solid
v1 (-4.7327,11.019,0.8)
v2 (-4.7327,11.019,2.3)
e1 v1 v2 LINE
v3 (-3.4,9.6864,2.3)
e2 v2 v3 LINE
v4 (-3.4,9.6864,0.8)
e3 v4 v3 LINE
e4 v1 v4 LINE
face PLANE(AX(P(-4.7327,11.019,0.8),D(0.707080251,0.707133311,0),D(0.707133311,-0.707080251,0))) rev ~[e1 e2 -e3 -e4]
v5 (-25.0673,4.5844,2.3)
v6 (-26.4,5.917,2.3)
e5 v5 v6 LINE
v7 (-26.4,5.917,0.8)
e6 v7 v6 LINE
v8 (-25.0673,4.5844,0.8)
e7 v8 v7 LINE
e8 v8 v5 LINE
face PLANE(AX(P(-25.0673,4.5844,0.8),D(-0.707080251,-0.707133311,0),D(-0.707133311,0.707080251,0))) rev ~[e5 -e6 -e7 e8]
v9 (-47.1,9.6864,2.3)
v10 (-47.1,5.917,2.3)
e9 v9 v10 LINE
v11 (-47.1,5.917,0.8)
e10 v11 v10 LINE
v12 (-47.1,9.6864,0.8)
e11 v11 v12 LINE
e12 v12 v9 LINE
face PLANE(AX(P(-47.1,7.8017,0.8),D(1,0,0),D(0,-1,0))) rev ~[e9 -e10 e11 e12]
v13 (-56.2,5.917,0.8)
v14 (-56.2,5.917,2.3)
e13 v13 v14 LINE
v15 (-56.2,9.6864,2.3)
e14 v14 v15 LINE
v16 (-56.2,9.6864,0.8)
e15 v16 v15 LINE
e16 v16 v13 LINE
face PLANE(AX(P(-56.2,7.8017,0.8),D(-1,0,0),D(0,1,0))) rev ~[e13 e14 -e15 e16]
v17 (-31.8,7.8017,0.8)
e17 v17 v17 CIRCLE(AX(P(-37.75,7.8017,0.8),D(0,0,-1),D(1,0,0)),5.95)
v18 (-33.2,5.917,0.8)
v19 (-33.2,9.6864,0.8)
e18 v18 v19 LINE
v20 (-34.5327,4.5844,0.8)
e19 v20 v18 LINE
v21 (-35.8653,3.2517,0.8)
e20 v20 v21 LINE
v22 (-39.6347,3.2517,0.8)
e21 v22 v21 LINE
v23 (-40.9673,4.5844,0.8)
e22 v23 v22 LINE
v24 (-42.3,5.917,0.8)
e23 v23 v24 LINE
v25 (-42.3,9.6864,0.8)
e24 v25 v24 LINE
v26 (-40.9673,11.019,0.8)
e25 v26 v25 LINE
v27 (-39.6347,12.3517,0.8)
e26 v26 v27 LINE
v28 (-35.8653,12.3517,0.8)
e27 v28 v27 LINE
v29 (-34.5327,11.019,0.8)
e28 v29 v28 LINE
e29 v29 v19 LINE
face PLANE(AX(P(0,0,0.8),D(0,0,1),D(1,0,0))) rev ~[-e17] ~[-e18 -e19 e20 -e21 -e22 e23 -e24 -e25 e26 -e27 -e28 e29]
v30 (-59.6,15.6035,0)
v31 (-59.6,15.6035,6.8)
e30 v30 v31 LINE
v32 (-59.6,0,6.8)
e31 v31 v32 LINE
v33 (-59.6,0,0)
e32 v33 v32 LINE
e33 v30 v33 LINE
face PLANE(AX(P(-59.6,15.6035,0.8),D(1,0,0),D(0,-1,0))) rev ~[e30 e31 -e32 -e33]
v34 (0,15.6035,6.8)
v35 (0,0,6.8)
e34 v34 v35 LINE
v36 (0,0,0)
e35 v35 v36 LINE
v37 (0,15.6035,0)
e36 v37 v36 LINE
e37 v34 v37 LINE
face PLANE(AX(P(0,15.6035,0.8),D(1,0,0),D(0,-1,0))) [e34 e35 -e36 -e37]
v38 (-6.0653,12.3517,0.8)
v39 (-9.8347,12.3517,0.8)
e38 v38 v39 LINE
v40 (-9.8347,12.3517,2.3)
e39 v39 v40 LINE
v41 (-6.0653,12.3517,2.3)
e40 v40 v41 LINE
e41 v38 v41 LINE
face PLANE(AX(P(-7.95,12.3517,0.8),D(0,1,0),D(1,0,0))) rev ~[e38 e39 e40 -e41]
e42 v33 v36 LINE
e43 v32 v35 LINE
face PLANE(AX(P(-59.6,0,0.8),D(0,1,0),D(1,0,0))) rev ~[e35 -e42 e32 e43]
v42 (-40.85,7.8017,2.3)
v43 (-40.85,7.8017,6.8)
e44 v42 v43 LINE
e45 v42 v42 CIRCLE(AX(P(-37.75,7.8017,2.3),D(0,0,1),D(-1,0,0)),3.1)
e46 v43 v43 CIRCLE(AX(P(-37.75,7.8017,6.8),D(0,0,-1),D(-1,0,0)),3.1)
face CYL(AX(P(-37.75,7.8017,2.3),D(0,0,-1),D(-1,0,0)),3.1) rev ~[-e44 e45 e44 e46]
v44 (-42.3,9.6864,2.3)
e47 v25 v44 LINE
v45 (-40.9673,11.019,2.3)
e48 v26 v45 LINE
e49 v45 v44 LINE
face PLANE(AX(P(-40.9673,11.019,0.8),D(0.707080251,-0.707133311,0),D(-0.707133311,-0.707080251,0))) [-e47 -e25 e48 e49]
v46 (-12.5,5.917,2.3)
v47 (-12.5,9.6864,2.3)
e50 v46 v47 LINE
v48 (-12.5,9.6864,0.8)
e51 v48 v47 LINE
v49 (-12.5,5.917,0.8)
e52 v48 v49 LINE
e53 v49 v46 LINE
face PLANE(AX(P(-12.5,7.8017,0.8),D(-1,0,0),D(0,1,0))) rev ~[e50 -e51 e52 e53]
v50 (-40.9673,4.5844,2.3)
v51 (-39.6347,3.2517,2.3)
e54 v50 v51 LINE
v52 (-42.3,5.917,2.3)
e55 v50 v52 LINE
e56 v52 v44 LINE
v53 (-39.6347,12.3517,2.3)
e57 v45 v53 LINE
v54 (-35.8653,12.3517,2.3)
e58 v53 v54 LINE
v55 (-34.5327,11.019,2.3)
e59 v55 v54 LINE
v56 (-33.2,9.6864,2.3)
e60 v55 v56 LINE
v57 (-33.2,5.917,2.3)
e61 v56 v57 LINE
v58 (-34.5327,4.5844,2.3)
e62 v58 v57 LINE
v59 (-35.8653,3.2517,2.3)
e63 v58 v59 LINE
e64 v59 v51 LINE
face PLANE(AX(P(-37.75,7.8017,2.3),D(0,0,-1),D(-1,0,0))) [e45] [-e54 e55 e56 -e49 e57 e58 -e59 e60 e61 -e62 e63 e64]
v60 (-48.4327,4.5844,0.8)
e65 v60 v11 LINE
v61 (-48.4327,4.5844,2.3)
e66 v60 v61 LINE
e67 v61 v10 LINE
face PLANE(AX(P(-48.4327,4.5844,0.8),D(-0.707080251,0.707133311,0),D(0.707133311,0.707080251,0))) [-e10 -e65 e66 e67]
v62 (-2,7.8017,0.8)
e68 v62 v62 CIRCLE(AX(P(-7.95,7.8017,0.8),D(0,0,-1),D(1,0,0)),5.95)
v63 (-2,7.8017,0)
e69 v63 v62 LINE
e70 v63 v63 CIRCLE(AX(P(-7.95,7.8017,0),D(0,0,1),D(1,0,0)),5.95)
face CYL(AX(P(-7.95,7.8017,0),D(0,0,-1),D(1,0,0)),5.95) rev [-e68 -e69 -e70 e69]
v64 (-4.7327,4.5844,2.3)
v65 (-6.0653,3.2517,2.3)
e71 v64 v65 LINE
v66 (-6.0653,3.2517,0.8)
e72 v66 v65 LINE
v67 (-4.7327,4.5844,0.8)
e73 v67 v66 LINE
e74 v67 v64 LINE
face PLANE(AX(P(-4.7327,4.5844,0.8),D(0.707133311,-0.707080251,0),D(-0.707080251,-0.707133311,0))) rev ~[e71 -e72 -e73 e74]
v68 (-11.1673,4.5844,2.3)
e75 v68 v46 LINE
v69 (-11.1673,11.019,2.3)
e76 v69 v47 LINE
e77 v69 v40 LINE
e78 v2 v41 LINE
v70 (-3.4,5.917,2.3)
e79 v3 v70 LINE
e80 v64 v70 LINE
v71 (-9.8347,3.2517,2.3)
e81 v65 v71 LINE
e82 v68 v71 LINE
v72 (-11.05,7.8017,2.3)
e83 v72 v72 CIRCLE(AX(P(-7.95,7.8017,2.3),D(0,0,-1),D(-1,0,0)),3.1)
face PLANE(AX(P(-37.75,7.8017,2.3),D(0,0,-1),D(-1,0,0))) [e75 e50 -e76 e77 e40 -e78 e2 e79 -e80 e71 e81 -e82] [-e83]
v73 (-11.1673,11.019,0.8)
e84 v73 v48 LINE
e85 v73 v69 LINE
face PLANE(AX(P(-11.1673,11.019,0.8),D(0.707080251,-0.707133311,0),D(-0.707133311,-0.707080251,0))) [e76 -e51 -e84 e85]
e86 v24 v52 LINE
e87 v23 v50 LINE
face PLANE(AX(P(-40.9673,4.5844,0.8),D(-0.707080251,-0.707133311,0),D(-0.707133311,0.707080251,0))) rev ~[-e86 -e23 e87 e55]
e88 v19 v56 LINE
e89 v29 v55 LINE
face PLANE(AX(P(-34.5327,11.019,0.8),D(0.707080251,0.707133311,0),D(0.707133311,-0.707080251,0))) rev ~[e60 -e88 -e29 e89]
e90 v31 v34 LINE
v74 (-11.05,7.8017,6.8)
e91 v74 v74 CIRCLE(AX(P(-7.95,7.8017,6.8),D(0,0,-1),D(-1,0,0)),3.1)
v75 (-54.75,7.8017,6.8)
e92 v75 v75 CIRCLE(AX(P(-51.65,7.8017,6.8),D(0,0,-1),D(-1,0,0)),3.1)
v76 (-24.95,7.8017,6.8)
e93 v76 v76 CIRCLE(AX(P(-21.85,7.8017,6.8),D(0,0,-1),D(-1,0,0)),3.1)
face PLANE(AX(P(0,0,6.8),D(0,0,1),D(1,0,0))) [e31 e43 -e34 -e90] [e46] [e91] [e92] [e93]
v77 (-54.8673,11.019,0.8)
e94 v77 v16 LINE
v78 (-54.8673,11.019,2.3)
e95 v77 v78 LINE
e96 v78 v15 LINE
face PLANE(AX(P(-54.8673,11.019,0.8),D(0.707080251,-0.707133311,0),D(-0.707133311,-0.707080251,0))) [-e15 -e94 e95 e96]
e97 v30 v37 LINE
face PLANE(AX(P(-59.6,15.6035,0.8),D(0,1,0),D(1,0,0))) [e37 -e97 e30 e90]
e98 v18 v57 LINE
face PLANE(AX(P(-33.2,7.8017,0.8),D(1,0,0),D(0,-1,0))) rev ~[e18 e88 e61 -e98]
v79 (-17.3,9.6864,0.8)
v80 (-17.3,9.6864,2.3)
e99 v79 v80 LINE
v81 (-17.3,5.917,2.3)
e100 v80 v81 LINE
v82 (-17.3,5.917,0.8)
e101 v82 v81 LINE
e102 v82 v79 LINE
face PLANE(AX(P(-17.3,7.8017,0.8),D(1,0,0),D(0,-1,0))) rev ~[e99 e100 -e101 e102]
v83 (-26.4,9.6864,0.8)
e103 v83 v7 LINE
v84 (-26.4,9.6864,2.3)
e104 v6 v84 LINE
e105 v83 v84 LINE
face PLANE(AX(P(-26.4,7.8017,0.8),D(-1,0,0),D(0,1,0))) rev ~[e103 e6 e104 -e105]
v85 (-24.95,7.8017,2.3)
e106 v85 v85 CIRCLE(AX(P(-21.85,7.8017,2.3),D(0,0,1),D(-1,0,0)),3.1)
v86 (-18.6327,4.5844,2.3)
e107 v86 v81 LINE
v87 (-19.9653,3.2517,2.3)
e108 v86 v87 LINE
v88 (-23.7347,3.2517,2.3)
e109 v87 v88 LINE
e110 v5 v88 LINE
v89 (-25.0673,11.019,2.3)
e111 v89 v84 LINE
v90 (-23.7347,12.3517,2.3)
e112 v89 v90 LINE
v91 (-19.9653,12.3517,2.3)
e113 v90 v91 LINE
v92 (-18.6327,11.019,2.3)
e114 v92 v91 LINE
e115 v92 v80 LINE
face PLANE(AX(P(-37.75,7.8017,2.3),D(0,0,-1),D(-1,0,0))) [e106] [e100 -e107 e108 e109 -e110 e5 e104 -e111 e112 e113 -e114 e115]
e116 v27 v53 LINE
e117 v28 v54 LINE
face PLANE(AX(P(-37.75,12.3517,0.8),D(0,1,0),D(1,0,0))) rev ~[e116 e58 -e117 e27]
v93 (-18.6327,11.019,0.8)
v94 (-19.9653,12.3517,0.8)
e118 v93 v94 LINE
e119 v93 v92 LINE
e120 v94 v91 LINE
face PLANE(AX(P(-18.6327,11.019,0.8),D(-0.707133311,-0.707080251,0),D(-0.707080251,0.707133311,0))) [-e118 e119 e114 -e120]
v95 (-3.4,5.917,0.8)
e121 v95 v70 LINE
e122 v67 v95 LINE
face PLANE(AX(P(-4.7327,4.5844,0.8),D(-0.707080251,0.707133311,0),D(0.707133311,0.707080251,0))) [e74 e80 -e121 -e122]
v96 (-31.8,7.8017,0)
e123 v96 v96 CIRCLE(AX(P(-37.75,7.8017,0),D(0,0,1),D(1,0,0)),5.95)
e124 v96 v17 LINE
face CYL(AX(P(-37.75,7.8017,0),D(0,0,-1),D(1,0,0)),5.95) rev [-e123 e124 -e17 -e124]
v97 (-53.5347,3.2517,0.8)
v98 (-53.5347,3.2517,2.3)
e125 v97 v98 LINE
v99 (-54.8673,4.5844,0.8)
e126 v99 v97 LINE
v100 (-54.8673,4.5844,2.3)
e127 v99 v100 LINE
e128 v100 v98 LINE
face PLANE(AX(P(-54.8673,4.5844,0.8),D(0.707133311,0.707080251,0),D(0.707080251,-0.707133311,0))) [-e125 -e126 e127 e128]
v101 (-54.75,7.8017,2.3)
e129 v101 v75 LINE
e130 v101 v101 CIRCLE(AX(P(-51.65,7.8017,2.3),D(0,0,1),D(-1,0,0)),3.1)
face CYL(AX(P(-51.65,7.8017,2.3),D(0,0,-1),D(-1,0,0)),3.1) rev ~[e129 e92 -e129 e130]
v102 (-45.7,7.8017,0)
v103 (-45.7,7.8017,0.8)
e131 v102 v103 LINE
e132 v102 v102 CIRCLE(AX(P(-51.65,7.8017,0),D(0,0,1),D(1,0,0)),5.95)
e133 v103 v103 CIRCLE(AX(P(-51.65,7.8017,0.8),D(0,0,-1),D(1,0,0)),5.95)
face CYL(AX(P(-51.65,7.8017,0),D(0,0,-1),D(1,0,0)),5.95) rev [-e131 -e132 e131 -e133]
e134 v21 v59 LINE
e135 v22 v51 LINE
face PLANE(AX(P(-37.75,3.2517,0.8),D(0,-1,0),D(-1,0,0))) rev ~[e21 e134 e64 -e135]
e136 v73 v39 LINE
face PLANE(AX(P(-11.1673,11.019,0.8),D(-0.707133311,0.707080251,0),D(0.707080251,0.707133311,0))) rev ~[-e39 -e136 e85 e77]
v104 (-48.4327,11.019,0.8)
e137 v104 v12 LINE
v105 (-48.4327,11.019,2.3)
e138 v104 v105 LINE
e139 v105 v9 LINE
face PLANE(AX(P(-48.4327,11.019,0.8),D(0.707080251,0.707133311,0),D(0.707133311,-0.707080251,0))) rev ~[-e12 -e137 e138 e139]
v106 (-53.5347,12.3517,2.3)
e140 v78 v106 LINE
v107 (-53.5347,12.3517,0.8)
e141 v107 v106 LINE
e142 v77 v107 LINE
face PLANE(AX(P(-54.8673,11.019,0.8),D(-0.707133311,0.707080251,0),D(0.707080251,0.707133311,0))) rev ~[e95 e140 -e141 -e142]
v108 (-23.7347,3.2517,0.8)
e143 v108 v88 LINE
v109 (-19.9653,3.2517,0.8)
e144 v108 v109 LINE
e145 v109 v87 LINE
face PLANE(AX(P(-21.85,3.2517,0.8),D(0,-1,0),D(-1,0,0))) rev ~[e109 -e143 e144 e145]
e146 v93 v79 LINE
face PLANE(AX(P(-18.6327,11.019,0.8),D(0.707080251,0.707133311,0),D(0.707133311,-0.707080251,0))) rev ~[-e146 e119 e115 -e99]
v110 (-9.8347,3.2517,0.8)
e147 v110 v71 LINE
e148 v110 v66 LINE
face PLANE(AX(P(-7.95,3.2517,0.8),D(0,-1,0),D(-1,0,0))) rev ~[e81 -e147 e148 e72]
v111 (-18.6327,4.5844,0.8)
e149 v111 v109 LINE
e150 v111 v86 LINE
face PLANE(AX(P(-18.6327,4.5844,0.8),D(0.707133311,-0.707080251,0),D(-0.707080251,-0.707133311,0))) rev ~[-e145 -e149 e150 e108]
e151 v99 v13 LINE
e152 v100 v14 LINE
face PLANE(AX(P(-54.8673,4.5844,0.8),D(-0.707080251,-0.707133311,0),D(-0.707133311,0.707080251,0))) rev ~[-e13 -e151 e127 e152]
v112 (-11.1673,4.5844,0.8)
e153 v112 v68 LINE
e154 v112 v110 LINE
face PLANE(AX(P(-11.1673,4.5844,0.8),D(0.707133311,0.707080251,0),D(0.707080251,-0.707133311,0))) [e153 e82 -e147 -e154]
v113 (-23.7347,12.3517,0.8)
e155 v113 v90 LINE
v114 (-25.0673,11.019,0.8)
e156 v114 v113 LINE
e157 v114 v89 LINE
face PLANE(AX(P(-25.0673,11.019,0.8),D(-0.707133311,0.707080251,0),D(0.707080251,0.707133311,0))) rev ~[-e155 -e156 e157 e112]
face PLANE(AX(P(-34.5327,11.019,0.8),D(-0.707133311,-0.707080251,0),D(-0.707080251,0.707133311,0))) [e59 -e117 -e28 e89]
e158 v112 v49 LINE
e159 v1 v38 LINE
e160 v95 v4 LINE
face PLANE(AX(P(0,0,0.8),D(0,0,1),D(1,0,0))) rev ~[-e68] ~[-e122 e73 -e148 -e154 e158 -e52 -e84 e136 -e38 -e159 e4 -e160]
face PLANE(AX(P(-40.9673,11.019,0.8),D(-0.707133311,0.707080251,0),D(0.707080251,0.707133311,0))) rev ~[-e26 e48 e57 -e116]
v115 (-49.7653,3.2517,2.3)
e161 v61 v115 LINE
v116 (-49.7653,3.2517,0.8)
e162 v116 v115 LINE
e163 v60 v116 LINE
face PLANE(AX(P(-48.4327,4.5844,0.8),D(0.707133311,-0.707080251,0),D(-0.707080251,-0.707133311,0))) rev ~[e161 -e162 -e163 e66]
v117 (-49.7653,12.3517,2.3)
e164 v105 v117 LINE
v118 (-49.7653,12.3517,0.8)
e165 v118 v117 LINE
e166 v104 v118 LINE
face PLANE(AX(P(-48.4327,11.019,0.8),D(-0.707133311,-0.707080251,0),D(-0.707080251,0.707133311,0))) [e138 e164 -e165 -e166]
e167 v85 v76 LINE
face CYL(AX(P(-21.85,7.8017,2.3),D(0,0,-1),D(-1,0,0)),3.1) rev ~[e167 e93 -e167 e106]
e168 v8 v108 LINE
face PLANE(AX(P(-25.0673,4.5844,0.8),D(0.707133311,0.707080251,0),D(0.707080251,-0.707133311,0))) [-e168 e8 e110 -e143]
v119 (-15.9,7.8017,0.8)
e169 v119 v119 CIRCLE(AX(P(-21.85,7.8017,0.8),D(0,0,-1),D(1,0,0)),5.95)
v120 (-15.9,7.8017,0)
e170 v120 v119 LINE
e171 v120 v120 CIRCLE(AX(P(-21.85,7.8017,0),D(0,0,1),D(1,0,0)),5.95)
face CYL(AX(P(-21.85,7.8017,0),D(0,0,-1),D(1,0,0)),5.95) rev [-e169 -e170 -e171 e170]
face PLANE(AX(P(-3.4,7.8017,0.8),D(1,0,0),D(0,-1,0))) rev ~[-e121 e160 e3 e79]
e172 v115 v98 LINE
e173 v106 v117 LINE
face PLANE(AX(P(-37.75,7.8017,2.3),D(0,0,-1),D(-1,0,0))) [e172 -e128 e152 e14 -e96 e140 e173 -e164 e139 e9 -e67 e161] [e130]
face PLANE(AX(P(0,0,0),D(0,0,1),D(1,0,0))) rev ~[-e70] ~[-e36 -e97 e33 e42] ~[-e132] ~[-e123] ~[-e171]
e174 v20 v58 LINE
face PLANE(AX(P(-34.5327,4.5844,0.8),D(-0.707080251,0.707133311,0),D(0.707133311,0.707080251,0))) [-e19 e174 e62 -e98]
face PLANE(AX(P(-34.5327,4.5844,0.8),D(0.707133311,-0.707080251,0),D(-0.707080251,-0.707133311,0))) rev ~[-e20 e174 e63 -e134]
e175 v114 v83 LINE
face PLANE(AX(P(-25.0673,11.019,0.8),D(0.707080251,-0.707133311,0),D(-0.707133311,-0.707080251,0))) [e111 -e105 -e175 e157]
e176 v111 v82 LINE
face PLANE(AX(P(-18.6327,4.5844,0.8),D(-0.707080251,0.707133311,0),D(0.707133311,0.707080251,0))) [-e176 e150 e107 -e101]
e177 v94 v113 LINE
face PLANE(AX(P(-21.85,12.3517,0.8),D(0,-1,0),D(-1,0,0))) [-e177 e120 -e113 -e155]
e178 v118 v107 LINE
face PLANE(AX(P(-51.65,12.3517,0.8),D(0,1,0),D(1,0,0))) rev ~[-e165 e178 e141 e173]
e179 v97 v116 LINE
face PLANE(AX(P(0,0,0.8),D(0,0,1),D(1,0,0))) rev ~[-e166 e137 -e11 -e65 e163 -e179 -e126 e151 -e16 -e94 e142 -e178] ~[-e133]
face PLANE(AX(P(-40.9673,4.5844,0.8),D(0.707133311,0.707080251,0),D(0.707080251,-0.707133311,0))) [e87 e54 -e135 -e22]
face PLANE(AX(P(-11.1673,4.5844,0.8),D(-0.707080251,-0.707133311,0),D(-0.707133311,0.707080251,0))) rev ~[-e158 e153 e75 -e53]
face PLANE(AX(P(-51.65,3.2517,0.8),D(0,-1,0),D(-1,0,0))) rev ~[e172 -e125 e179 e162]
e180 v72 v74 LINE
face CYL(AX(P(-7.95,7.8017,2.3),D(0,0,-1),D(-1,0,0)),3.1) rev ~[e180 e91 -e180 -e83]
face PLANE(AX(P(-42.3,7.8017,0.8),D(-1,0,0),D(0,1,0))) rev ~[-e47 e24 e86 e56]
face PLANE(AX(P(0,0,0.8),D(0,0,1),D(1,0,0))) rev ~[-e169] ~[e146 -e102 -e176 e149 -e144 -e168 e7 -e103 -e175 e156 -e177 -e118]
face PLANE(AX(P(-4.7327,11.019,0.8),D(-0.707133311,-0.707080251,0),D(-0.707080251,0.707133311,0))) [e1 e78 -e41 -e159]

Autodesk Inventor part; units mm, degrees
ref_plane "YZ Plane" through (0, 0, 0) normal (1, 0, 0) x (0, 1, 0)
ref_plane "XZ Plane" through (0, 0, 0) normal (0, 1, 0) x (-1, 0, 0)
ref_plane "XY Plane" through (0, 0, 0) normal (0, 0, 1) x (1, 0, 0)
sketch "Sketch1" plane through (0, 0, 0) normal (0, 0, 1) x (1, 0, 0)
  line L0 (0, 0) -> (-29.8, 0)
  line L1 (0, 15.6035) -> (0, 0)
  circle A0 centre (-7.95, 7.8017) radius 5.95
  circle A1 centre (-21.85, 7.8017) radius 5.95
  line L2 (-29.8, 15.6035) -> (-29.8, 0)
  line L3 (-29.8, 15.6035) -> (0, 15.6035)
  line L4 (-29.8, 0) -> (-60, 0)
  line L5 (-21.85, 7.8017) -> (-21.85, 15.6035)
  line L6 (-21.85, 7.8017) -> (-21.85, 0)
  line L7 (-7.95, 7.8017) -> (-7.95, 0)
  line L8 (-7.95, 7.8017) -> (-7.95, 15.6035)
  line L9 (-59.6, 0) -> (-29.8, 0)
  line L10 (-59.6, 15.6035) -> (-59.6, 0)
  circle A2 centre (-51.65, 7.8017) radius 5.95
  circle A3 centre (-37.75, 7.8017) radius 5.95
  line L11 (-29.8, 15.6035) -> (-59.6, 15.6035)
  line L12 (-37.75, 7.8017) -> (-37.75, 15.6035)
  line L13 (-37.75, 7.8017) -> (-37.75, 0)
  line L14 (-51.65, 7.8017) -> (-51.65, 0)
  line L15 (-51.65, 7.8017) -> (-51.65, 15.6035)
  point P0 (0, 7.8017)
  point P1 (-59.6, 7.8017)
  dimension "d0" = 11.9
  dimension "d1" = 11.9
  dimension "d7" = 7.95
  dimension "d8" = 13.9
  dimension "d9" = 7.95
extrude "Extrusion1" add sketch "Sketch1" along normal blind 0.8 contours L0 L7 A0 L8 L3 L1 | L0 L6 A1 L5 L3 L8 A0 L7 | L0 L2 L3 L5 A1 L6 | L4 L13 A3 L12 L11 L2 | L4 L14 A2 L15 L11 L12 A3 L13 | L4 L10 L11 L15 A2 L14
sketch "Sketch2" plane through (0, 0, 0.8) normal (0, 0, 1) x (1, 0, 0)
  line L0 (-59.6, 15.6035) -> (-59.6, 0) projected
  line L1 (-59.6, 0) -> (0, 0) projected
  line L2 (-59.6, 15.6035) -> (0, 15.6035)
  line L3 (0, 15.6035) -> (0, 0)
  line L4 (0, 0) -> (-59.6, 0)
  line L5 (-59.6, 0) -> (-59.6, 15.6035)
extrude "Extrusion2" add sketch "Sketch2" along normal blind 6
sketch "Sketch3" plane through (-7.95, 7.8017, 0.8) normal (0, 0, -1) x (-1, 0, 0)
  circle A0 centre (0, 0) radius 5.95 projected
  line L0 (0, 0) -> (-4.55, 0)
  line L1 (0, 0) -> (4.55, 0)
  line L2 (0, 0) -> (0, 4.55)
  line L3 (0, 0) -> (0, -4.55)
  line L4 (-4.55, 0) -> (-4.55, -1.8847)
  line L5 (0, 0) -> (2.5958, -2.5958)
  line L6 (0, 0) -> (3.671, 0) construction
  line L7 (3.2173, -3.2173) -> (-3.2173, 3.2173)
  line L8 (0, 0) -> (-3.2173, -3.2173)
  line L9 (0, 0) -> (3.2173, 3.2173)
  line L10 (-3.2173, -3.2173) -> (-1.8847, -4.55)
  line L11 (-3.2173, -3.2173) -> (-4.55, -1.8847)
  line L12 (3.2173, -3.2173) -> (1.8847, -4.55)
  line L13 (3.2173, -3.2173) -> (4.55, -1.8847)
  line L14 (4.55, 0) -> (4.55, -1.8847)
  line L15 (4.55, 0) -> (4.55, 1.8847)
  line L16 (3.2173, 3.2173) -> (4.55, 1.8847)
  line L17 (3.2173, 3.2173) -> (1.8847, 4.55)
  line L18 (0, 4.55) -> (1.8847, 4.55)
  line L19 (0, 4.55) -> (-1.8847, 4.55)
  line L20 (-3.2173, 3.2173) -> (-1.8847, 4.55)
  line L21 (-3.2173, 3.2173) -> (-4.55, 1.8847)
  line L22 (0, -4.55) -> (1.8847, -4.55)
  line L23 (0, -4.55) -> (-1.8847, -4.55)
  line L24 (-4.55, 0) -> (-4.55, 1.8847)
  line L25 (5.95, 0) -> (7.95, 0)
  circle A1 centre (13.9, 0) radius 5.95 projected
  line L26 (6.95, 0) -> (6.95, 2.7112)
  line L27 (-7.95, 7.8017) -> (51.65, 7.8017) projected
  circle A2 centre (13.9, 0) radius 5.95
  line L28 (13.9, 0) -> (18.45, 0)
  line L29 (13.9, 0) -> (9.35, 0)
  line L30 (13.9, 0) -> (13.9, 4.55)
  line L31 (13.9, 0) -> (13.9, -4.55)
  line L32 (18.45, 0) -> (18.45, -1.8847)
  line L33 (13.9, 0) -> (11.3042, -2.5958)
  line L34 (13.9, 0) -> (10.229, 0) construction
  line L35 (10.6827, -3.2173) -> (17.1173, 3.2173)
  line L36 (13.9, 0) -> (17.1173, -3.2173)
  line L37 (13.9, 0) -> (10.6827, 3.2173)
  line L38 (17.1173, -3.2173) -> (15.7847, -4.55)
  line L39 (17.1173, -3.2173) -> (18.45, -1.8847)
  line L40 (10.6827, -3.2173) -> (12.0153, -4.55)
  line L41 (10.6827, -3.2173) -> (9.35, -1.8847)
  line L42 (9.35, 0) -> (9.35, -1.8847)
  line L43 (9.35, 0) -> (9.35, 1.8847)
  line L44 (10.6827, 3.2173) -> (9.35, 1.8847)
  line L45 (10.6827, 3.2173) -> (12.0153, 4.55)
  line L46 (13.9, 4.55) -> (12.0153, 4.55)
  line L47 (13.9, 4.55) -> (15.7847, 4.55)
  line L48 (17.1173, 3.2173) -> (15.7847, 4.55)
  line L49 (17.1173, 3.2173) -> (18.45, 1.8847)
  line L50 (13.9, -4.55) -> (12.0153, -4.55)
  line L51 (13.9, -4.55) -> (15.7847, -4.55)
  line L52 (18.45, 0) -> (18.45, 1.8847)
  line L53 (21.85, 7.8017) -> (21.85, -7.8017)
  line L54 (51.65, -7.8017) -> (-7.95, -7.8017) projected
  circle A3 centre (43.7, 0) radius 5.95
  line L55 (43.7, 0) -> (48.25, 0)
  line L56 (43.7, 0) -> (39.15, 0)
  line L57 (43.7, 0) -> (43.7, 4.55)
  line L58 (43.7, 0) -> (43.7, -4.55)
  line L59 (48.25, 0) -> (48.25, -1.8847)
  line L60 (43.7, 0) -> (41.1042, -2.5958)
  line L61 (43.7, 0) -> (40.029, 0) construction
  line L62 (40.4827, -3.2173) -> (46.9173, 3.2173)
  line L63 (43.7, 0) -> (46.9173, -3.2173)
  line L64 (43.7, 0) -> (40.4827, 3.2173)
  line L65 (46.9173, -3.2173) -> (45.5847, -4.55)
  line L66 (46.9173, -3.2173) -> (48.25, -1.8847)
  line L67 (40.4827, -3.2173) -> (41.8153, -4.55)
  line L68 (40.4827, -3.2173) -> (39.15, -1.8847)
  line L69 (39.15, 0) -> (39.15, -1.8847)
  line L70 (39.15, 0) -> (39.15, 1.8847)
  line L71 (40.4827, 3.2173) -> (39.15, 1.8847)
  line L72 (40.4827, 3.2173) -> (41.8153, 4.55)
  line L73 (43.7, 4.55) -> (41.8153, 4.55)
  line L74 (43.7, 4.55) -> (45.5847, 4.55)
  line L75 (46.9173, 3.2173) -> (45.5847, 4.55)
  line L76 (46.9173, 3.2173) -> (48.25, 1.8847)
  line L77 (43.7, -4.55) -> (41.8153, -4.55)
  line L78 (43.7, -4.55) -> (45.5847, -4.55)
  line L79 (48.25, 0) -> (48.25, 1.8847)
  line L80 (37.75, 0) -> (35.75, 0)
  circle A4 centre (29.8, 0) radius 5.95
  line L81 (36.75, 0) -> (36.75, 2.7112)
  line L82 (25.25, 0) -> (25.25, 1.8847)
  line L83 (25.25, 0) -> (25.25, -1.8847)
  line L84 (29.8, 0) -> (25.25, 0)
  line L85 (29.8, 0) -> (29.8, 4.55)
  line L86 (29.8, 0) -> (29.8, -4.55)
  line L87 (29.8, -4.55) -> (27.9153, -4.55)
  line L88 (29.8, 4.55) -> (31.6847, 4.55)
  line L89 (29.8, 0) -> (33.0173, 3.2173)
  line L90 (29.8, 0) -> (32.3958, -2.5958)
  line L91 (29.8, -4.55) -> (31.6847, -4.55)
  line L92 (33.0173, 3.2173) -> (34.35, 1.8847)
  line L93 (34.35, 0) -> (34.35, -1.8847)
  line L94 (33.0173, -3.2173) -> (26.5827, 3.2173)
  line L95 (33.0173, -3.2173) -> (34.35, -1.8847)
  circle A5 centre (29.8, 0) radius 5.95
  line L96 (33.0173, -3.2173) -> (31.6847, -4.55)
  line L97 (29.8, 0) -> (34.35, 0)
  line L98 (34.35, 0) -> (34.35, 1.8847)
  line L99 (29.8, 0) -> (33.471, 0) construction
  line L100 (26.5827, 3.2173) -> (27.9153, 4.55)
  line L101 (33.0173, 3.2173) -> (31.6847, 4.55)
  line L102 (29.8, 4.55) -> (27.9153, 4.55)
  line L103 (26.5827, 3.2173) -> (25.25, 1.8847)
  line L104 (26.5827, -3.2173) -> (25.25, -1.8847)
  line L105 (26.5827, -3.2173) -> (27.9153, -4.55)
  line L106 (29.8, 0) -> (26.5827, -3.2173)
  dimension "d14" = 4.55
  dimension "d15" = 4.55
  dimension "d16" = 4.55
  dimension "d17" = 4.55
  dimension "d22" = 45
sketch "Sketch4" plane through (-37.75, 7.8017, 0.8) normal (0, 0, -1) x (-1, 0, 0)
  line L0 (3.2173, -3.2173) -> (1.8847, -4.55) projected
  line L1 (3.2173, -3.2173) -> (4.55, -1.8847) projected
  line L2 (4.55, 0) -> (4.55, -1.8847) projected
  line L3 (4.55, 0) -> (4.55, 1.8847) projected
  line L4 (3.2173, 3.2173) -> (4.55, 1.8847) projected
  line L5 (3.2173, 3.2173) -> (1.8847, 4.55) projected
  line L6 (0, 4.55) -> (1.8847, 4.55) projected
  line L7 (0, 4.55) -> (-1.8847, 4.55) projected
  line L8 (-3.2173, 3.2173) -> (-1.8847, 4.55) projected
  line L9 (-3.2173, 3.2173) -> (-4.55, 1.8847) projected
  line L10 (-4.55, 0) -> (-4.55, 1.8847) projected
  line L11 (-4.55, 0) -> (-4.55, -1.8847) projected
  line L12 (-3.2173, -3.2173) -> (-4.55, -1.8847) projected
  line L13 (-3.2173, -3.2173) -> (-1.8847, -4.55) projected
  line L14 (0, -4.55) -> (-1.8847, -4.55) projected
  line L15 (0, -4.55) -> (1.8847, -4.55) projected
  line L16 (-4.55, 1.8847) -> (-4.55, -1.8847)
  line L17 (-1.8847, -4.55) -> (1.8847, -4.55)
  line L18 (4.55, -1.8847) -> (4.55, 1.8847)
  line L19 (1.8847, 4.55) -> (-1.8847, 4.55)
  line L20 (1.8847, -4.55) -> (4.55, -1.8847)
  line L21 (-1.8847, -4.55) -> (-4.55, -1.8847)
  line L22 (-4.55, 1.8847) -> (-1.8847, 4.55)
  line L23 (1.8847, 4.55) -> (4.55, 1.8847)
  circle A0 centre (0, 0) radius 5.95 projected
  circle A1 centre (0, 0) radius 5.95
  line L24 (10.6827, 3.2173) -> (12.0153, 4.55) projected
  line L25 (10.6827, 3.2173) -> (9.35, 1.8847) projected
  line L26 (9.35, 0) -> (9.35, 1.8847) projected
  line L27 (9.35, 0) -> (9.35, -1.8847) projected
  line L28 (10.6827, -3.2173) -> (9.35, -1.8847) projected
  line L29 (10.6827, -3.2173) -> (12.0153, -4.55) projected
  line L30 (13.9, -4.55) -> (12.0153, -4.55) projected
  line L31 (13.9, -4.55) -> (15.7847, -4.55) projected
  line L32 (17.1173, -3.2173) -> (15.7847, -4.55) projected
  line L33 (17.1173, -3.2173) -> (18.45, -1.8847) projected
  line L34 (18.45, 0) -> (18.45, -1.8847) projected
  line L35 (18.45, 0) -> (18.45, 1.8847) projected
  line L36 (17.1173, 3.2173) -> (18.45, 1.8847) projected
  line L37 (17.1173, 3.2173) -> (15.7847, 4.55) projected
  line L38 (13.9, 4.55) -> (15.7847, 4.55) projected
  line L39 (13.9, 4.55) -> (12.0153, 4.55) projected
  line L40 (9.35, 1.8847) -> (12.0153, 4.55)
  line L41 (12.0153, 4.55) -> (15.7847, 4.55)
  line L42 (15.7847, 4.55) -> (18.45, 1.8847)
  line L43 (18.45, 1.8847) -> (18.45, -1.8847)
  line L44 (18.45, -1.8847) -> (15.7847, -4.55)
  line L45 (9.35, -1.8847) -> (12.0153, -4.55)
  line L46 (-15.9, 4.55) -> (-17.7847, 4.55) projected
  line L47 (-15.9, 4.55) -> (-14.0153, 4.55) projected
  line L48 (-12.6827, 3.2173) -> (-14.0153, 4.55) projected
  line L49 (-12.6827, 3.2173) -> (-11.35, 1.8847) projected
  line L50 (-11.35, 0) -> (-11.35, 1.8847) projected
  line L51 (-11.35, 0) -> (-11.35, -1.8847) projected
  line L52 (-12.6827, -3.2173) -> (-11.35, -1.8847) projected
  line L53 (-12.6827, -3.2173) -> (-14.0153, -4.55) projected
  line L54 (-15.9, -4.55) -> (-14.0153, -4.55) projected
  line L55 (-15.9, -4.55) -> (-17.7847, -4.55) projected
  line L56 (-19.1173, -3.2173) -> (-17.7847, -4.55) projected
  line L57 (-19.1173, -3.2173) -> (-20.45, -1.8847) projected
  line L58 (-20.45, 0) -> (-20.45, -1.8847) projected
  line L59 (-20.45, 0) -> (-20.45, 1.8847) projected
  line L60 (-19.1173, 3.2173) -> (-20.45, 1.8847) projected
  line L61 (-19.1173, 3.2173) -> (-17.7847, 4.55) projected
  line L62 (-17.7847, 4.55) -> (-14.0153, 4.55)
  line L63 (-11.35, 1.8847) -> (-14.0153, 4.55)
  line L64 (-17.7847, 4.55) -> (-20.45, 1.8847)
  line L65 (-20.45, -1.8847) -> (-17.7847, -4.55)
  line L66 (-17.7847, -4.55) -> (-14.0153, -4.55)
  line L67 (-11.35, -1.8847) -> (-11.35, 1.8847)
  line L68 (-11.35, -1.8847) -> (-14.0153, -4.55)
  circle A2 centre (-15.9, 0) radius 5.95
  line L69 (-33.0173, 3.2173) -> (-34.35, 1.8847) projected
  line L70 (-33.0173, 3.2173) -> (-31.6847, 4.55) projected
  line L71 (-29.8, 4.55) -> (-31.6847, 4.55) projected
  line L72 (-29.8, 4.55) -> (-27.9153, 4.55) projected
  line L73 (-26.5827, 3.2173) -> (-27.9153, 4.55) projected
  line L74 (-26.5827, 3.2173) -> (-25.25, 1.8847) projected
  line L75 (-25.25, 0) -> (-25.25, 1.8847) projected
  line L76 (-25.25, 0) -> (-25.25, -1.8847) projected
  line L77 (-26.5827, -3.2173) -> (-25.25, -1.8847) projected
  line L78 (-26.5827, -3.2173) -> (-27.9153, -4.55) projected
  line L79 (-29.8, -4.55) -> (-27.9153, -4.55) projected
  line L80 (-29.8, -4.55) -> (-31.6847, -4.55) projected
  line L81 (-33.0173, -3.2173) -> (-31.6847, -4.55) projected
  line L82 (-33.0173, -3.2173) -> (-34.35, -1.8847) projected
  line L83 (-34.35, 0) -> (-34.35, -1.8847) projected
  line L84 (-34.35, 1.8847) -> (-31.6847, 4.55)
  line L85 (-27.9153, 4.55) -> (-25.25, 1.8847)
  line L86 (-25.25, -1.8847) -> (-27.9153, -4.55)
  line L87 (-31.6847, -4.55) -> (-27.9153, -4.55)
  line L88 (-34.35, -1.8847) -> (-31.6847, -4.55)
  line L89 (-34.35, -1.8847) -> (-34.35, 1.8847)
  circle A3 centre (-29.8, 0) radius 5.95
  circle A4 centre (13.9, 0) radius 5.95
  circle A5 centre (13.9, 0) radius 5.95
  line L90 (-31.6847, 4.55) -> (-27.9153, 4.55)
  line L91 (-25.25, 1.8847) -> (-25.25, -1.8847)
  line L92 (-20.45, -1.8847) -> (-20.45, 1.8847)
  line L93 (9.35, -1.8847) -> (9.35, 1.8847)
  line L94 (12.0153, -4.55) -> (15.7847, -4.55)
  point P0 (-37.75, -7.8017)
extrude "Extrusion3" cut sketch "Sketch4" against normal blind 1.5 contours L0 L15 L14 L13 L12 L11 L10 L9 L8 L7 L6 L5 L4 L3 L2 L1 | L24 L39 L38 L37 L36 L35 L34 L33 L32 L31 L30 L29 L28 L27 L26 L25 | L47 L48 L49 L50 L51 L52 L53 L54 L55 L56 L57 L58 L59 L60 L61 L46 | L70 L71 L72 L73 L74 L75 L76 L77 L78 L79 L80 L81 L82 L83 L89 L69
sketch "Sketch5" plane through (-37.75, 7.8017, 2.3) normal (0, 0, -1) x (-1, 0, 0)
  circle A0 centre (0, 0) radius 3.1
  circle A1 centre (0, 0) radius 3.1
  circle A2 centre (13.9, 0) radius 3.1
  circle A3 centre (-15.9, 0) radius 3.1
  circle A4 centre (-29.8, 0) radius 3.1
  line L0 (-25.25, 1.8847) -> (-25.25, -1.8847) projected
  line L1 (-34.35, -1.8847) -> (-34.35, 1.8847) projected
  line L2 (-25.25, -1.8847) -> (-27.9153, -4.55) projected
  circle A5 centre (-29.8, 0) radius 4.9249
  line L3 (-15.9, 0) -> (-20.45, 0)
  line L4 (-20.45, -1.8847) -> (-20.45, 1.8847) projected
  line L5 (-15.9, 0) -> (-11.35, 0)
  line L6 (-11.35, 1.8847) -> (-11.35, -1.8847) projected
  line L7 (0, 0) -> (-4.55, 0)
  line L8 (-4.55, -1.8847) -> (-4.55, 1.8847) projected
  line L9 (0, 0) -> (4.55, 0)
  line L10 (4.55, 1.8847) -> (4.55, -1.8847) projected
  line L11 (13.9, 0) -> (9.35, 0)
  line L12 (9.35, -1.8847) -> (9.35, 1.8847) projected
  line L13 (18.45, 1.8847) -> (18.45, -1.8847) projected
  line L14 (18.45, 0) -> (13.9, 0)
  point P0 (-37.75, -7.8017)
  dimension "d25" = 6.2
  dimension "d26" = 6.2
  dimension "d27" = 6.2
  dimension "d28" = 6.2
  dimension "d29" = 6.2
extrude "Extrusion4" cut sketch "Sketch5" against normal through all contours L9 L7 A0 | A0 L7 L9 | L14 L11 A2 | A2 L11 L14 | L5 L3 A3 | A3 L3 L5 | A4
properties part number "switch_mount"
